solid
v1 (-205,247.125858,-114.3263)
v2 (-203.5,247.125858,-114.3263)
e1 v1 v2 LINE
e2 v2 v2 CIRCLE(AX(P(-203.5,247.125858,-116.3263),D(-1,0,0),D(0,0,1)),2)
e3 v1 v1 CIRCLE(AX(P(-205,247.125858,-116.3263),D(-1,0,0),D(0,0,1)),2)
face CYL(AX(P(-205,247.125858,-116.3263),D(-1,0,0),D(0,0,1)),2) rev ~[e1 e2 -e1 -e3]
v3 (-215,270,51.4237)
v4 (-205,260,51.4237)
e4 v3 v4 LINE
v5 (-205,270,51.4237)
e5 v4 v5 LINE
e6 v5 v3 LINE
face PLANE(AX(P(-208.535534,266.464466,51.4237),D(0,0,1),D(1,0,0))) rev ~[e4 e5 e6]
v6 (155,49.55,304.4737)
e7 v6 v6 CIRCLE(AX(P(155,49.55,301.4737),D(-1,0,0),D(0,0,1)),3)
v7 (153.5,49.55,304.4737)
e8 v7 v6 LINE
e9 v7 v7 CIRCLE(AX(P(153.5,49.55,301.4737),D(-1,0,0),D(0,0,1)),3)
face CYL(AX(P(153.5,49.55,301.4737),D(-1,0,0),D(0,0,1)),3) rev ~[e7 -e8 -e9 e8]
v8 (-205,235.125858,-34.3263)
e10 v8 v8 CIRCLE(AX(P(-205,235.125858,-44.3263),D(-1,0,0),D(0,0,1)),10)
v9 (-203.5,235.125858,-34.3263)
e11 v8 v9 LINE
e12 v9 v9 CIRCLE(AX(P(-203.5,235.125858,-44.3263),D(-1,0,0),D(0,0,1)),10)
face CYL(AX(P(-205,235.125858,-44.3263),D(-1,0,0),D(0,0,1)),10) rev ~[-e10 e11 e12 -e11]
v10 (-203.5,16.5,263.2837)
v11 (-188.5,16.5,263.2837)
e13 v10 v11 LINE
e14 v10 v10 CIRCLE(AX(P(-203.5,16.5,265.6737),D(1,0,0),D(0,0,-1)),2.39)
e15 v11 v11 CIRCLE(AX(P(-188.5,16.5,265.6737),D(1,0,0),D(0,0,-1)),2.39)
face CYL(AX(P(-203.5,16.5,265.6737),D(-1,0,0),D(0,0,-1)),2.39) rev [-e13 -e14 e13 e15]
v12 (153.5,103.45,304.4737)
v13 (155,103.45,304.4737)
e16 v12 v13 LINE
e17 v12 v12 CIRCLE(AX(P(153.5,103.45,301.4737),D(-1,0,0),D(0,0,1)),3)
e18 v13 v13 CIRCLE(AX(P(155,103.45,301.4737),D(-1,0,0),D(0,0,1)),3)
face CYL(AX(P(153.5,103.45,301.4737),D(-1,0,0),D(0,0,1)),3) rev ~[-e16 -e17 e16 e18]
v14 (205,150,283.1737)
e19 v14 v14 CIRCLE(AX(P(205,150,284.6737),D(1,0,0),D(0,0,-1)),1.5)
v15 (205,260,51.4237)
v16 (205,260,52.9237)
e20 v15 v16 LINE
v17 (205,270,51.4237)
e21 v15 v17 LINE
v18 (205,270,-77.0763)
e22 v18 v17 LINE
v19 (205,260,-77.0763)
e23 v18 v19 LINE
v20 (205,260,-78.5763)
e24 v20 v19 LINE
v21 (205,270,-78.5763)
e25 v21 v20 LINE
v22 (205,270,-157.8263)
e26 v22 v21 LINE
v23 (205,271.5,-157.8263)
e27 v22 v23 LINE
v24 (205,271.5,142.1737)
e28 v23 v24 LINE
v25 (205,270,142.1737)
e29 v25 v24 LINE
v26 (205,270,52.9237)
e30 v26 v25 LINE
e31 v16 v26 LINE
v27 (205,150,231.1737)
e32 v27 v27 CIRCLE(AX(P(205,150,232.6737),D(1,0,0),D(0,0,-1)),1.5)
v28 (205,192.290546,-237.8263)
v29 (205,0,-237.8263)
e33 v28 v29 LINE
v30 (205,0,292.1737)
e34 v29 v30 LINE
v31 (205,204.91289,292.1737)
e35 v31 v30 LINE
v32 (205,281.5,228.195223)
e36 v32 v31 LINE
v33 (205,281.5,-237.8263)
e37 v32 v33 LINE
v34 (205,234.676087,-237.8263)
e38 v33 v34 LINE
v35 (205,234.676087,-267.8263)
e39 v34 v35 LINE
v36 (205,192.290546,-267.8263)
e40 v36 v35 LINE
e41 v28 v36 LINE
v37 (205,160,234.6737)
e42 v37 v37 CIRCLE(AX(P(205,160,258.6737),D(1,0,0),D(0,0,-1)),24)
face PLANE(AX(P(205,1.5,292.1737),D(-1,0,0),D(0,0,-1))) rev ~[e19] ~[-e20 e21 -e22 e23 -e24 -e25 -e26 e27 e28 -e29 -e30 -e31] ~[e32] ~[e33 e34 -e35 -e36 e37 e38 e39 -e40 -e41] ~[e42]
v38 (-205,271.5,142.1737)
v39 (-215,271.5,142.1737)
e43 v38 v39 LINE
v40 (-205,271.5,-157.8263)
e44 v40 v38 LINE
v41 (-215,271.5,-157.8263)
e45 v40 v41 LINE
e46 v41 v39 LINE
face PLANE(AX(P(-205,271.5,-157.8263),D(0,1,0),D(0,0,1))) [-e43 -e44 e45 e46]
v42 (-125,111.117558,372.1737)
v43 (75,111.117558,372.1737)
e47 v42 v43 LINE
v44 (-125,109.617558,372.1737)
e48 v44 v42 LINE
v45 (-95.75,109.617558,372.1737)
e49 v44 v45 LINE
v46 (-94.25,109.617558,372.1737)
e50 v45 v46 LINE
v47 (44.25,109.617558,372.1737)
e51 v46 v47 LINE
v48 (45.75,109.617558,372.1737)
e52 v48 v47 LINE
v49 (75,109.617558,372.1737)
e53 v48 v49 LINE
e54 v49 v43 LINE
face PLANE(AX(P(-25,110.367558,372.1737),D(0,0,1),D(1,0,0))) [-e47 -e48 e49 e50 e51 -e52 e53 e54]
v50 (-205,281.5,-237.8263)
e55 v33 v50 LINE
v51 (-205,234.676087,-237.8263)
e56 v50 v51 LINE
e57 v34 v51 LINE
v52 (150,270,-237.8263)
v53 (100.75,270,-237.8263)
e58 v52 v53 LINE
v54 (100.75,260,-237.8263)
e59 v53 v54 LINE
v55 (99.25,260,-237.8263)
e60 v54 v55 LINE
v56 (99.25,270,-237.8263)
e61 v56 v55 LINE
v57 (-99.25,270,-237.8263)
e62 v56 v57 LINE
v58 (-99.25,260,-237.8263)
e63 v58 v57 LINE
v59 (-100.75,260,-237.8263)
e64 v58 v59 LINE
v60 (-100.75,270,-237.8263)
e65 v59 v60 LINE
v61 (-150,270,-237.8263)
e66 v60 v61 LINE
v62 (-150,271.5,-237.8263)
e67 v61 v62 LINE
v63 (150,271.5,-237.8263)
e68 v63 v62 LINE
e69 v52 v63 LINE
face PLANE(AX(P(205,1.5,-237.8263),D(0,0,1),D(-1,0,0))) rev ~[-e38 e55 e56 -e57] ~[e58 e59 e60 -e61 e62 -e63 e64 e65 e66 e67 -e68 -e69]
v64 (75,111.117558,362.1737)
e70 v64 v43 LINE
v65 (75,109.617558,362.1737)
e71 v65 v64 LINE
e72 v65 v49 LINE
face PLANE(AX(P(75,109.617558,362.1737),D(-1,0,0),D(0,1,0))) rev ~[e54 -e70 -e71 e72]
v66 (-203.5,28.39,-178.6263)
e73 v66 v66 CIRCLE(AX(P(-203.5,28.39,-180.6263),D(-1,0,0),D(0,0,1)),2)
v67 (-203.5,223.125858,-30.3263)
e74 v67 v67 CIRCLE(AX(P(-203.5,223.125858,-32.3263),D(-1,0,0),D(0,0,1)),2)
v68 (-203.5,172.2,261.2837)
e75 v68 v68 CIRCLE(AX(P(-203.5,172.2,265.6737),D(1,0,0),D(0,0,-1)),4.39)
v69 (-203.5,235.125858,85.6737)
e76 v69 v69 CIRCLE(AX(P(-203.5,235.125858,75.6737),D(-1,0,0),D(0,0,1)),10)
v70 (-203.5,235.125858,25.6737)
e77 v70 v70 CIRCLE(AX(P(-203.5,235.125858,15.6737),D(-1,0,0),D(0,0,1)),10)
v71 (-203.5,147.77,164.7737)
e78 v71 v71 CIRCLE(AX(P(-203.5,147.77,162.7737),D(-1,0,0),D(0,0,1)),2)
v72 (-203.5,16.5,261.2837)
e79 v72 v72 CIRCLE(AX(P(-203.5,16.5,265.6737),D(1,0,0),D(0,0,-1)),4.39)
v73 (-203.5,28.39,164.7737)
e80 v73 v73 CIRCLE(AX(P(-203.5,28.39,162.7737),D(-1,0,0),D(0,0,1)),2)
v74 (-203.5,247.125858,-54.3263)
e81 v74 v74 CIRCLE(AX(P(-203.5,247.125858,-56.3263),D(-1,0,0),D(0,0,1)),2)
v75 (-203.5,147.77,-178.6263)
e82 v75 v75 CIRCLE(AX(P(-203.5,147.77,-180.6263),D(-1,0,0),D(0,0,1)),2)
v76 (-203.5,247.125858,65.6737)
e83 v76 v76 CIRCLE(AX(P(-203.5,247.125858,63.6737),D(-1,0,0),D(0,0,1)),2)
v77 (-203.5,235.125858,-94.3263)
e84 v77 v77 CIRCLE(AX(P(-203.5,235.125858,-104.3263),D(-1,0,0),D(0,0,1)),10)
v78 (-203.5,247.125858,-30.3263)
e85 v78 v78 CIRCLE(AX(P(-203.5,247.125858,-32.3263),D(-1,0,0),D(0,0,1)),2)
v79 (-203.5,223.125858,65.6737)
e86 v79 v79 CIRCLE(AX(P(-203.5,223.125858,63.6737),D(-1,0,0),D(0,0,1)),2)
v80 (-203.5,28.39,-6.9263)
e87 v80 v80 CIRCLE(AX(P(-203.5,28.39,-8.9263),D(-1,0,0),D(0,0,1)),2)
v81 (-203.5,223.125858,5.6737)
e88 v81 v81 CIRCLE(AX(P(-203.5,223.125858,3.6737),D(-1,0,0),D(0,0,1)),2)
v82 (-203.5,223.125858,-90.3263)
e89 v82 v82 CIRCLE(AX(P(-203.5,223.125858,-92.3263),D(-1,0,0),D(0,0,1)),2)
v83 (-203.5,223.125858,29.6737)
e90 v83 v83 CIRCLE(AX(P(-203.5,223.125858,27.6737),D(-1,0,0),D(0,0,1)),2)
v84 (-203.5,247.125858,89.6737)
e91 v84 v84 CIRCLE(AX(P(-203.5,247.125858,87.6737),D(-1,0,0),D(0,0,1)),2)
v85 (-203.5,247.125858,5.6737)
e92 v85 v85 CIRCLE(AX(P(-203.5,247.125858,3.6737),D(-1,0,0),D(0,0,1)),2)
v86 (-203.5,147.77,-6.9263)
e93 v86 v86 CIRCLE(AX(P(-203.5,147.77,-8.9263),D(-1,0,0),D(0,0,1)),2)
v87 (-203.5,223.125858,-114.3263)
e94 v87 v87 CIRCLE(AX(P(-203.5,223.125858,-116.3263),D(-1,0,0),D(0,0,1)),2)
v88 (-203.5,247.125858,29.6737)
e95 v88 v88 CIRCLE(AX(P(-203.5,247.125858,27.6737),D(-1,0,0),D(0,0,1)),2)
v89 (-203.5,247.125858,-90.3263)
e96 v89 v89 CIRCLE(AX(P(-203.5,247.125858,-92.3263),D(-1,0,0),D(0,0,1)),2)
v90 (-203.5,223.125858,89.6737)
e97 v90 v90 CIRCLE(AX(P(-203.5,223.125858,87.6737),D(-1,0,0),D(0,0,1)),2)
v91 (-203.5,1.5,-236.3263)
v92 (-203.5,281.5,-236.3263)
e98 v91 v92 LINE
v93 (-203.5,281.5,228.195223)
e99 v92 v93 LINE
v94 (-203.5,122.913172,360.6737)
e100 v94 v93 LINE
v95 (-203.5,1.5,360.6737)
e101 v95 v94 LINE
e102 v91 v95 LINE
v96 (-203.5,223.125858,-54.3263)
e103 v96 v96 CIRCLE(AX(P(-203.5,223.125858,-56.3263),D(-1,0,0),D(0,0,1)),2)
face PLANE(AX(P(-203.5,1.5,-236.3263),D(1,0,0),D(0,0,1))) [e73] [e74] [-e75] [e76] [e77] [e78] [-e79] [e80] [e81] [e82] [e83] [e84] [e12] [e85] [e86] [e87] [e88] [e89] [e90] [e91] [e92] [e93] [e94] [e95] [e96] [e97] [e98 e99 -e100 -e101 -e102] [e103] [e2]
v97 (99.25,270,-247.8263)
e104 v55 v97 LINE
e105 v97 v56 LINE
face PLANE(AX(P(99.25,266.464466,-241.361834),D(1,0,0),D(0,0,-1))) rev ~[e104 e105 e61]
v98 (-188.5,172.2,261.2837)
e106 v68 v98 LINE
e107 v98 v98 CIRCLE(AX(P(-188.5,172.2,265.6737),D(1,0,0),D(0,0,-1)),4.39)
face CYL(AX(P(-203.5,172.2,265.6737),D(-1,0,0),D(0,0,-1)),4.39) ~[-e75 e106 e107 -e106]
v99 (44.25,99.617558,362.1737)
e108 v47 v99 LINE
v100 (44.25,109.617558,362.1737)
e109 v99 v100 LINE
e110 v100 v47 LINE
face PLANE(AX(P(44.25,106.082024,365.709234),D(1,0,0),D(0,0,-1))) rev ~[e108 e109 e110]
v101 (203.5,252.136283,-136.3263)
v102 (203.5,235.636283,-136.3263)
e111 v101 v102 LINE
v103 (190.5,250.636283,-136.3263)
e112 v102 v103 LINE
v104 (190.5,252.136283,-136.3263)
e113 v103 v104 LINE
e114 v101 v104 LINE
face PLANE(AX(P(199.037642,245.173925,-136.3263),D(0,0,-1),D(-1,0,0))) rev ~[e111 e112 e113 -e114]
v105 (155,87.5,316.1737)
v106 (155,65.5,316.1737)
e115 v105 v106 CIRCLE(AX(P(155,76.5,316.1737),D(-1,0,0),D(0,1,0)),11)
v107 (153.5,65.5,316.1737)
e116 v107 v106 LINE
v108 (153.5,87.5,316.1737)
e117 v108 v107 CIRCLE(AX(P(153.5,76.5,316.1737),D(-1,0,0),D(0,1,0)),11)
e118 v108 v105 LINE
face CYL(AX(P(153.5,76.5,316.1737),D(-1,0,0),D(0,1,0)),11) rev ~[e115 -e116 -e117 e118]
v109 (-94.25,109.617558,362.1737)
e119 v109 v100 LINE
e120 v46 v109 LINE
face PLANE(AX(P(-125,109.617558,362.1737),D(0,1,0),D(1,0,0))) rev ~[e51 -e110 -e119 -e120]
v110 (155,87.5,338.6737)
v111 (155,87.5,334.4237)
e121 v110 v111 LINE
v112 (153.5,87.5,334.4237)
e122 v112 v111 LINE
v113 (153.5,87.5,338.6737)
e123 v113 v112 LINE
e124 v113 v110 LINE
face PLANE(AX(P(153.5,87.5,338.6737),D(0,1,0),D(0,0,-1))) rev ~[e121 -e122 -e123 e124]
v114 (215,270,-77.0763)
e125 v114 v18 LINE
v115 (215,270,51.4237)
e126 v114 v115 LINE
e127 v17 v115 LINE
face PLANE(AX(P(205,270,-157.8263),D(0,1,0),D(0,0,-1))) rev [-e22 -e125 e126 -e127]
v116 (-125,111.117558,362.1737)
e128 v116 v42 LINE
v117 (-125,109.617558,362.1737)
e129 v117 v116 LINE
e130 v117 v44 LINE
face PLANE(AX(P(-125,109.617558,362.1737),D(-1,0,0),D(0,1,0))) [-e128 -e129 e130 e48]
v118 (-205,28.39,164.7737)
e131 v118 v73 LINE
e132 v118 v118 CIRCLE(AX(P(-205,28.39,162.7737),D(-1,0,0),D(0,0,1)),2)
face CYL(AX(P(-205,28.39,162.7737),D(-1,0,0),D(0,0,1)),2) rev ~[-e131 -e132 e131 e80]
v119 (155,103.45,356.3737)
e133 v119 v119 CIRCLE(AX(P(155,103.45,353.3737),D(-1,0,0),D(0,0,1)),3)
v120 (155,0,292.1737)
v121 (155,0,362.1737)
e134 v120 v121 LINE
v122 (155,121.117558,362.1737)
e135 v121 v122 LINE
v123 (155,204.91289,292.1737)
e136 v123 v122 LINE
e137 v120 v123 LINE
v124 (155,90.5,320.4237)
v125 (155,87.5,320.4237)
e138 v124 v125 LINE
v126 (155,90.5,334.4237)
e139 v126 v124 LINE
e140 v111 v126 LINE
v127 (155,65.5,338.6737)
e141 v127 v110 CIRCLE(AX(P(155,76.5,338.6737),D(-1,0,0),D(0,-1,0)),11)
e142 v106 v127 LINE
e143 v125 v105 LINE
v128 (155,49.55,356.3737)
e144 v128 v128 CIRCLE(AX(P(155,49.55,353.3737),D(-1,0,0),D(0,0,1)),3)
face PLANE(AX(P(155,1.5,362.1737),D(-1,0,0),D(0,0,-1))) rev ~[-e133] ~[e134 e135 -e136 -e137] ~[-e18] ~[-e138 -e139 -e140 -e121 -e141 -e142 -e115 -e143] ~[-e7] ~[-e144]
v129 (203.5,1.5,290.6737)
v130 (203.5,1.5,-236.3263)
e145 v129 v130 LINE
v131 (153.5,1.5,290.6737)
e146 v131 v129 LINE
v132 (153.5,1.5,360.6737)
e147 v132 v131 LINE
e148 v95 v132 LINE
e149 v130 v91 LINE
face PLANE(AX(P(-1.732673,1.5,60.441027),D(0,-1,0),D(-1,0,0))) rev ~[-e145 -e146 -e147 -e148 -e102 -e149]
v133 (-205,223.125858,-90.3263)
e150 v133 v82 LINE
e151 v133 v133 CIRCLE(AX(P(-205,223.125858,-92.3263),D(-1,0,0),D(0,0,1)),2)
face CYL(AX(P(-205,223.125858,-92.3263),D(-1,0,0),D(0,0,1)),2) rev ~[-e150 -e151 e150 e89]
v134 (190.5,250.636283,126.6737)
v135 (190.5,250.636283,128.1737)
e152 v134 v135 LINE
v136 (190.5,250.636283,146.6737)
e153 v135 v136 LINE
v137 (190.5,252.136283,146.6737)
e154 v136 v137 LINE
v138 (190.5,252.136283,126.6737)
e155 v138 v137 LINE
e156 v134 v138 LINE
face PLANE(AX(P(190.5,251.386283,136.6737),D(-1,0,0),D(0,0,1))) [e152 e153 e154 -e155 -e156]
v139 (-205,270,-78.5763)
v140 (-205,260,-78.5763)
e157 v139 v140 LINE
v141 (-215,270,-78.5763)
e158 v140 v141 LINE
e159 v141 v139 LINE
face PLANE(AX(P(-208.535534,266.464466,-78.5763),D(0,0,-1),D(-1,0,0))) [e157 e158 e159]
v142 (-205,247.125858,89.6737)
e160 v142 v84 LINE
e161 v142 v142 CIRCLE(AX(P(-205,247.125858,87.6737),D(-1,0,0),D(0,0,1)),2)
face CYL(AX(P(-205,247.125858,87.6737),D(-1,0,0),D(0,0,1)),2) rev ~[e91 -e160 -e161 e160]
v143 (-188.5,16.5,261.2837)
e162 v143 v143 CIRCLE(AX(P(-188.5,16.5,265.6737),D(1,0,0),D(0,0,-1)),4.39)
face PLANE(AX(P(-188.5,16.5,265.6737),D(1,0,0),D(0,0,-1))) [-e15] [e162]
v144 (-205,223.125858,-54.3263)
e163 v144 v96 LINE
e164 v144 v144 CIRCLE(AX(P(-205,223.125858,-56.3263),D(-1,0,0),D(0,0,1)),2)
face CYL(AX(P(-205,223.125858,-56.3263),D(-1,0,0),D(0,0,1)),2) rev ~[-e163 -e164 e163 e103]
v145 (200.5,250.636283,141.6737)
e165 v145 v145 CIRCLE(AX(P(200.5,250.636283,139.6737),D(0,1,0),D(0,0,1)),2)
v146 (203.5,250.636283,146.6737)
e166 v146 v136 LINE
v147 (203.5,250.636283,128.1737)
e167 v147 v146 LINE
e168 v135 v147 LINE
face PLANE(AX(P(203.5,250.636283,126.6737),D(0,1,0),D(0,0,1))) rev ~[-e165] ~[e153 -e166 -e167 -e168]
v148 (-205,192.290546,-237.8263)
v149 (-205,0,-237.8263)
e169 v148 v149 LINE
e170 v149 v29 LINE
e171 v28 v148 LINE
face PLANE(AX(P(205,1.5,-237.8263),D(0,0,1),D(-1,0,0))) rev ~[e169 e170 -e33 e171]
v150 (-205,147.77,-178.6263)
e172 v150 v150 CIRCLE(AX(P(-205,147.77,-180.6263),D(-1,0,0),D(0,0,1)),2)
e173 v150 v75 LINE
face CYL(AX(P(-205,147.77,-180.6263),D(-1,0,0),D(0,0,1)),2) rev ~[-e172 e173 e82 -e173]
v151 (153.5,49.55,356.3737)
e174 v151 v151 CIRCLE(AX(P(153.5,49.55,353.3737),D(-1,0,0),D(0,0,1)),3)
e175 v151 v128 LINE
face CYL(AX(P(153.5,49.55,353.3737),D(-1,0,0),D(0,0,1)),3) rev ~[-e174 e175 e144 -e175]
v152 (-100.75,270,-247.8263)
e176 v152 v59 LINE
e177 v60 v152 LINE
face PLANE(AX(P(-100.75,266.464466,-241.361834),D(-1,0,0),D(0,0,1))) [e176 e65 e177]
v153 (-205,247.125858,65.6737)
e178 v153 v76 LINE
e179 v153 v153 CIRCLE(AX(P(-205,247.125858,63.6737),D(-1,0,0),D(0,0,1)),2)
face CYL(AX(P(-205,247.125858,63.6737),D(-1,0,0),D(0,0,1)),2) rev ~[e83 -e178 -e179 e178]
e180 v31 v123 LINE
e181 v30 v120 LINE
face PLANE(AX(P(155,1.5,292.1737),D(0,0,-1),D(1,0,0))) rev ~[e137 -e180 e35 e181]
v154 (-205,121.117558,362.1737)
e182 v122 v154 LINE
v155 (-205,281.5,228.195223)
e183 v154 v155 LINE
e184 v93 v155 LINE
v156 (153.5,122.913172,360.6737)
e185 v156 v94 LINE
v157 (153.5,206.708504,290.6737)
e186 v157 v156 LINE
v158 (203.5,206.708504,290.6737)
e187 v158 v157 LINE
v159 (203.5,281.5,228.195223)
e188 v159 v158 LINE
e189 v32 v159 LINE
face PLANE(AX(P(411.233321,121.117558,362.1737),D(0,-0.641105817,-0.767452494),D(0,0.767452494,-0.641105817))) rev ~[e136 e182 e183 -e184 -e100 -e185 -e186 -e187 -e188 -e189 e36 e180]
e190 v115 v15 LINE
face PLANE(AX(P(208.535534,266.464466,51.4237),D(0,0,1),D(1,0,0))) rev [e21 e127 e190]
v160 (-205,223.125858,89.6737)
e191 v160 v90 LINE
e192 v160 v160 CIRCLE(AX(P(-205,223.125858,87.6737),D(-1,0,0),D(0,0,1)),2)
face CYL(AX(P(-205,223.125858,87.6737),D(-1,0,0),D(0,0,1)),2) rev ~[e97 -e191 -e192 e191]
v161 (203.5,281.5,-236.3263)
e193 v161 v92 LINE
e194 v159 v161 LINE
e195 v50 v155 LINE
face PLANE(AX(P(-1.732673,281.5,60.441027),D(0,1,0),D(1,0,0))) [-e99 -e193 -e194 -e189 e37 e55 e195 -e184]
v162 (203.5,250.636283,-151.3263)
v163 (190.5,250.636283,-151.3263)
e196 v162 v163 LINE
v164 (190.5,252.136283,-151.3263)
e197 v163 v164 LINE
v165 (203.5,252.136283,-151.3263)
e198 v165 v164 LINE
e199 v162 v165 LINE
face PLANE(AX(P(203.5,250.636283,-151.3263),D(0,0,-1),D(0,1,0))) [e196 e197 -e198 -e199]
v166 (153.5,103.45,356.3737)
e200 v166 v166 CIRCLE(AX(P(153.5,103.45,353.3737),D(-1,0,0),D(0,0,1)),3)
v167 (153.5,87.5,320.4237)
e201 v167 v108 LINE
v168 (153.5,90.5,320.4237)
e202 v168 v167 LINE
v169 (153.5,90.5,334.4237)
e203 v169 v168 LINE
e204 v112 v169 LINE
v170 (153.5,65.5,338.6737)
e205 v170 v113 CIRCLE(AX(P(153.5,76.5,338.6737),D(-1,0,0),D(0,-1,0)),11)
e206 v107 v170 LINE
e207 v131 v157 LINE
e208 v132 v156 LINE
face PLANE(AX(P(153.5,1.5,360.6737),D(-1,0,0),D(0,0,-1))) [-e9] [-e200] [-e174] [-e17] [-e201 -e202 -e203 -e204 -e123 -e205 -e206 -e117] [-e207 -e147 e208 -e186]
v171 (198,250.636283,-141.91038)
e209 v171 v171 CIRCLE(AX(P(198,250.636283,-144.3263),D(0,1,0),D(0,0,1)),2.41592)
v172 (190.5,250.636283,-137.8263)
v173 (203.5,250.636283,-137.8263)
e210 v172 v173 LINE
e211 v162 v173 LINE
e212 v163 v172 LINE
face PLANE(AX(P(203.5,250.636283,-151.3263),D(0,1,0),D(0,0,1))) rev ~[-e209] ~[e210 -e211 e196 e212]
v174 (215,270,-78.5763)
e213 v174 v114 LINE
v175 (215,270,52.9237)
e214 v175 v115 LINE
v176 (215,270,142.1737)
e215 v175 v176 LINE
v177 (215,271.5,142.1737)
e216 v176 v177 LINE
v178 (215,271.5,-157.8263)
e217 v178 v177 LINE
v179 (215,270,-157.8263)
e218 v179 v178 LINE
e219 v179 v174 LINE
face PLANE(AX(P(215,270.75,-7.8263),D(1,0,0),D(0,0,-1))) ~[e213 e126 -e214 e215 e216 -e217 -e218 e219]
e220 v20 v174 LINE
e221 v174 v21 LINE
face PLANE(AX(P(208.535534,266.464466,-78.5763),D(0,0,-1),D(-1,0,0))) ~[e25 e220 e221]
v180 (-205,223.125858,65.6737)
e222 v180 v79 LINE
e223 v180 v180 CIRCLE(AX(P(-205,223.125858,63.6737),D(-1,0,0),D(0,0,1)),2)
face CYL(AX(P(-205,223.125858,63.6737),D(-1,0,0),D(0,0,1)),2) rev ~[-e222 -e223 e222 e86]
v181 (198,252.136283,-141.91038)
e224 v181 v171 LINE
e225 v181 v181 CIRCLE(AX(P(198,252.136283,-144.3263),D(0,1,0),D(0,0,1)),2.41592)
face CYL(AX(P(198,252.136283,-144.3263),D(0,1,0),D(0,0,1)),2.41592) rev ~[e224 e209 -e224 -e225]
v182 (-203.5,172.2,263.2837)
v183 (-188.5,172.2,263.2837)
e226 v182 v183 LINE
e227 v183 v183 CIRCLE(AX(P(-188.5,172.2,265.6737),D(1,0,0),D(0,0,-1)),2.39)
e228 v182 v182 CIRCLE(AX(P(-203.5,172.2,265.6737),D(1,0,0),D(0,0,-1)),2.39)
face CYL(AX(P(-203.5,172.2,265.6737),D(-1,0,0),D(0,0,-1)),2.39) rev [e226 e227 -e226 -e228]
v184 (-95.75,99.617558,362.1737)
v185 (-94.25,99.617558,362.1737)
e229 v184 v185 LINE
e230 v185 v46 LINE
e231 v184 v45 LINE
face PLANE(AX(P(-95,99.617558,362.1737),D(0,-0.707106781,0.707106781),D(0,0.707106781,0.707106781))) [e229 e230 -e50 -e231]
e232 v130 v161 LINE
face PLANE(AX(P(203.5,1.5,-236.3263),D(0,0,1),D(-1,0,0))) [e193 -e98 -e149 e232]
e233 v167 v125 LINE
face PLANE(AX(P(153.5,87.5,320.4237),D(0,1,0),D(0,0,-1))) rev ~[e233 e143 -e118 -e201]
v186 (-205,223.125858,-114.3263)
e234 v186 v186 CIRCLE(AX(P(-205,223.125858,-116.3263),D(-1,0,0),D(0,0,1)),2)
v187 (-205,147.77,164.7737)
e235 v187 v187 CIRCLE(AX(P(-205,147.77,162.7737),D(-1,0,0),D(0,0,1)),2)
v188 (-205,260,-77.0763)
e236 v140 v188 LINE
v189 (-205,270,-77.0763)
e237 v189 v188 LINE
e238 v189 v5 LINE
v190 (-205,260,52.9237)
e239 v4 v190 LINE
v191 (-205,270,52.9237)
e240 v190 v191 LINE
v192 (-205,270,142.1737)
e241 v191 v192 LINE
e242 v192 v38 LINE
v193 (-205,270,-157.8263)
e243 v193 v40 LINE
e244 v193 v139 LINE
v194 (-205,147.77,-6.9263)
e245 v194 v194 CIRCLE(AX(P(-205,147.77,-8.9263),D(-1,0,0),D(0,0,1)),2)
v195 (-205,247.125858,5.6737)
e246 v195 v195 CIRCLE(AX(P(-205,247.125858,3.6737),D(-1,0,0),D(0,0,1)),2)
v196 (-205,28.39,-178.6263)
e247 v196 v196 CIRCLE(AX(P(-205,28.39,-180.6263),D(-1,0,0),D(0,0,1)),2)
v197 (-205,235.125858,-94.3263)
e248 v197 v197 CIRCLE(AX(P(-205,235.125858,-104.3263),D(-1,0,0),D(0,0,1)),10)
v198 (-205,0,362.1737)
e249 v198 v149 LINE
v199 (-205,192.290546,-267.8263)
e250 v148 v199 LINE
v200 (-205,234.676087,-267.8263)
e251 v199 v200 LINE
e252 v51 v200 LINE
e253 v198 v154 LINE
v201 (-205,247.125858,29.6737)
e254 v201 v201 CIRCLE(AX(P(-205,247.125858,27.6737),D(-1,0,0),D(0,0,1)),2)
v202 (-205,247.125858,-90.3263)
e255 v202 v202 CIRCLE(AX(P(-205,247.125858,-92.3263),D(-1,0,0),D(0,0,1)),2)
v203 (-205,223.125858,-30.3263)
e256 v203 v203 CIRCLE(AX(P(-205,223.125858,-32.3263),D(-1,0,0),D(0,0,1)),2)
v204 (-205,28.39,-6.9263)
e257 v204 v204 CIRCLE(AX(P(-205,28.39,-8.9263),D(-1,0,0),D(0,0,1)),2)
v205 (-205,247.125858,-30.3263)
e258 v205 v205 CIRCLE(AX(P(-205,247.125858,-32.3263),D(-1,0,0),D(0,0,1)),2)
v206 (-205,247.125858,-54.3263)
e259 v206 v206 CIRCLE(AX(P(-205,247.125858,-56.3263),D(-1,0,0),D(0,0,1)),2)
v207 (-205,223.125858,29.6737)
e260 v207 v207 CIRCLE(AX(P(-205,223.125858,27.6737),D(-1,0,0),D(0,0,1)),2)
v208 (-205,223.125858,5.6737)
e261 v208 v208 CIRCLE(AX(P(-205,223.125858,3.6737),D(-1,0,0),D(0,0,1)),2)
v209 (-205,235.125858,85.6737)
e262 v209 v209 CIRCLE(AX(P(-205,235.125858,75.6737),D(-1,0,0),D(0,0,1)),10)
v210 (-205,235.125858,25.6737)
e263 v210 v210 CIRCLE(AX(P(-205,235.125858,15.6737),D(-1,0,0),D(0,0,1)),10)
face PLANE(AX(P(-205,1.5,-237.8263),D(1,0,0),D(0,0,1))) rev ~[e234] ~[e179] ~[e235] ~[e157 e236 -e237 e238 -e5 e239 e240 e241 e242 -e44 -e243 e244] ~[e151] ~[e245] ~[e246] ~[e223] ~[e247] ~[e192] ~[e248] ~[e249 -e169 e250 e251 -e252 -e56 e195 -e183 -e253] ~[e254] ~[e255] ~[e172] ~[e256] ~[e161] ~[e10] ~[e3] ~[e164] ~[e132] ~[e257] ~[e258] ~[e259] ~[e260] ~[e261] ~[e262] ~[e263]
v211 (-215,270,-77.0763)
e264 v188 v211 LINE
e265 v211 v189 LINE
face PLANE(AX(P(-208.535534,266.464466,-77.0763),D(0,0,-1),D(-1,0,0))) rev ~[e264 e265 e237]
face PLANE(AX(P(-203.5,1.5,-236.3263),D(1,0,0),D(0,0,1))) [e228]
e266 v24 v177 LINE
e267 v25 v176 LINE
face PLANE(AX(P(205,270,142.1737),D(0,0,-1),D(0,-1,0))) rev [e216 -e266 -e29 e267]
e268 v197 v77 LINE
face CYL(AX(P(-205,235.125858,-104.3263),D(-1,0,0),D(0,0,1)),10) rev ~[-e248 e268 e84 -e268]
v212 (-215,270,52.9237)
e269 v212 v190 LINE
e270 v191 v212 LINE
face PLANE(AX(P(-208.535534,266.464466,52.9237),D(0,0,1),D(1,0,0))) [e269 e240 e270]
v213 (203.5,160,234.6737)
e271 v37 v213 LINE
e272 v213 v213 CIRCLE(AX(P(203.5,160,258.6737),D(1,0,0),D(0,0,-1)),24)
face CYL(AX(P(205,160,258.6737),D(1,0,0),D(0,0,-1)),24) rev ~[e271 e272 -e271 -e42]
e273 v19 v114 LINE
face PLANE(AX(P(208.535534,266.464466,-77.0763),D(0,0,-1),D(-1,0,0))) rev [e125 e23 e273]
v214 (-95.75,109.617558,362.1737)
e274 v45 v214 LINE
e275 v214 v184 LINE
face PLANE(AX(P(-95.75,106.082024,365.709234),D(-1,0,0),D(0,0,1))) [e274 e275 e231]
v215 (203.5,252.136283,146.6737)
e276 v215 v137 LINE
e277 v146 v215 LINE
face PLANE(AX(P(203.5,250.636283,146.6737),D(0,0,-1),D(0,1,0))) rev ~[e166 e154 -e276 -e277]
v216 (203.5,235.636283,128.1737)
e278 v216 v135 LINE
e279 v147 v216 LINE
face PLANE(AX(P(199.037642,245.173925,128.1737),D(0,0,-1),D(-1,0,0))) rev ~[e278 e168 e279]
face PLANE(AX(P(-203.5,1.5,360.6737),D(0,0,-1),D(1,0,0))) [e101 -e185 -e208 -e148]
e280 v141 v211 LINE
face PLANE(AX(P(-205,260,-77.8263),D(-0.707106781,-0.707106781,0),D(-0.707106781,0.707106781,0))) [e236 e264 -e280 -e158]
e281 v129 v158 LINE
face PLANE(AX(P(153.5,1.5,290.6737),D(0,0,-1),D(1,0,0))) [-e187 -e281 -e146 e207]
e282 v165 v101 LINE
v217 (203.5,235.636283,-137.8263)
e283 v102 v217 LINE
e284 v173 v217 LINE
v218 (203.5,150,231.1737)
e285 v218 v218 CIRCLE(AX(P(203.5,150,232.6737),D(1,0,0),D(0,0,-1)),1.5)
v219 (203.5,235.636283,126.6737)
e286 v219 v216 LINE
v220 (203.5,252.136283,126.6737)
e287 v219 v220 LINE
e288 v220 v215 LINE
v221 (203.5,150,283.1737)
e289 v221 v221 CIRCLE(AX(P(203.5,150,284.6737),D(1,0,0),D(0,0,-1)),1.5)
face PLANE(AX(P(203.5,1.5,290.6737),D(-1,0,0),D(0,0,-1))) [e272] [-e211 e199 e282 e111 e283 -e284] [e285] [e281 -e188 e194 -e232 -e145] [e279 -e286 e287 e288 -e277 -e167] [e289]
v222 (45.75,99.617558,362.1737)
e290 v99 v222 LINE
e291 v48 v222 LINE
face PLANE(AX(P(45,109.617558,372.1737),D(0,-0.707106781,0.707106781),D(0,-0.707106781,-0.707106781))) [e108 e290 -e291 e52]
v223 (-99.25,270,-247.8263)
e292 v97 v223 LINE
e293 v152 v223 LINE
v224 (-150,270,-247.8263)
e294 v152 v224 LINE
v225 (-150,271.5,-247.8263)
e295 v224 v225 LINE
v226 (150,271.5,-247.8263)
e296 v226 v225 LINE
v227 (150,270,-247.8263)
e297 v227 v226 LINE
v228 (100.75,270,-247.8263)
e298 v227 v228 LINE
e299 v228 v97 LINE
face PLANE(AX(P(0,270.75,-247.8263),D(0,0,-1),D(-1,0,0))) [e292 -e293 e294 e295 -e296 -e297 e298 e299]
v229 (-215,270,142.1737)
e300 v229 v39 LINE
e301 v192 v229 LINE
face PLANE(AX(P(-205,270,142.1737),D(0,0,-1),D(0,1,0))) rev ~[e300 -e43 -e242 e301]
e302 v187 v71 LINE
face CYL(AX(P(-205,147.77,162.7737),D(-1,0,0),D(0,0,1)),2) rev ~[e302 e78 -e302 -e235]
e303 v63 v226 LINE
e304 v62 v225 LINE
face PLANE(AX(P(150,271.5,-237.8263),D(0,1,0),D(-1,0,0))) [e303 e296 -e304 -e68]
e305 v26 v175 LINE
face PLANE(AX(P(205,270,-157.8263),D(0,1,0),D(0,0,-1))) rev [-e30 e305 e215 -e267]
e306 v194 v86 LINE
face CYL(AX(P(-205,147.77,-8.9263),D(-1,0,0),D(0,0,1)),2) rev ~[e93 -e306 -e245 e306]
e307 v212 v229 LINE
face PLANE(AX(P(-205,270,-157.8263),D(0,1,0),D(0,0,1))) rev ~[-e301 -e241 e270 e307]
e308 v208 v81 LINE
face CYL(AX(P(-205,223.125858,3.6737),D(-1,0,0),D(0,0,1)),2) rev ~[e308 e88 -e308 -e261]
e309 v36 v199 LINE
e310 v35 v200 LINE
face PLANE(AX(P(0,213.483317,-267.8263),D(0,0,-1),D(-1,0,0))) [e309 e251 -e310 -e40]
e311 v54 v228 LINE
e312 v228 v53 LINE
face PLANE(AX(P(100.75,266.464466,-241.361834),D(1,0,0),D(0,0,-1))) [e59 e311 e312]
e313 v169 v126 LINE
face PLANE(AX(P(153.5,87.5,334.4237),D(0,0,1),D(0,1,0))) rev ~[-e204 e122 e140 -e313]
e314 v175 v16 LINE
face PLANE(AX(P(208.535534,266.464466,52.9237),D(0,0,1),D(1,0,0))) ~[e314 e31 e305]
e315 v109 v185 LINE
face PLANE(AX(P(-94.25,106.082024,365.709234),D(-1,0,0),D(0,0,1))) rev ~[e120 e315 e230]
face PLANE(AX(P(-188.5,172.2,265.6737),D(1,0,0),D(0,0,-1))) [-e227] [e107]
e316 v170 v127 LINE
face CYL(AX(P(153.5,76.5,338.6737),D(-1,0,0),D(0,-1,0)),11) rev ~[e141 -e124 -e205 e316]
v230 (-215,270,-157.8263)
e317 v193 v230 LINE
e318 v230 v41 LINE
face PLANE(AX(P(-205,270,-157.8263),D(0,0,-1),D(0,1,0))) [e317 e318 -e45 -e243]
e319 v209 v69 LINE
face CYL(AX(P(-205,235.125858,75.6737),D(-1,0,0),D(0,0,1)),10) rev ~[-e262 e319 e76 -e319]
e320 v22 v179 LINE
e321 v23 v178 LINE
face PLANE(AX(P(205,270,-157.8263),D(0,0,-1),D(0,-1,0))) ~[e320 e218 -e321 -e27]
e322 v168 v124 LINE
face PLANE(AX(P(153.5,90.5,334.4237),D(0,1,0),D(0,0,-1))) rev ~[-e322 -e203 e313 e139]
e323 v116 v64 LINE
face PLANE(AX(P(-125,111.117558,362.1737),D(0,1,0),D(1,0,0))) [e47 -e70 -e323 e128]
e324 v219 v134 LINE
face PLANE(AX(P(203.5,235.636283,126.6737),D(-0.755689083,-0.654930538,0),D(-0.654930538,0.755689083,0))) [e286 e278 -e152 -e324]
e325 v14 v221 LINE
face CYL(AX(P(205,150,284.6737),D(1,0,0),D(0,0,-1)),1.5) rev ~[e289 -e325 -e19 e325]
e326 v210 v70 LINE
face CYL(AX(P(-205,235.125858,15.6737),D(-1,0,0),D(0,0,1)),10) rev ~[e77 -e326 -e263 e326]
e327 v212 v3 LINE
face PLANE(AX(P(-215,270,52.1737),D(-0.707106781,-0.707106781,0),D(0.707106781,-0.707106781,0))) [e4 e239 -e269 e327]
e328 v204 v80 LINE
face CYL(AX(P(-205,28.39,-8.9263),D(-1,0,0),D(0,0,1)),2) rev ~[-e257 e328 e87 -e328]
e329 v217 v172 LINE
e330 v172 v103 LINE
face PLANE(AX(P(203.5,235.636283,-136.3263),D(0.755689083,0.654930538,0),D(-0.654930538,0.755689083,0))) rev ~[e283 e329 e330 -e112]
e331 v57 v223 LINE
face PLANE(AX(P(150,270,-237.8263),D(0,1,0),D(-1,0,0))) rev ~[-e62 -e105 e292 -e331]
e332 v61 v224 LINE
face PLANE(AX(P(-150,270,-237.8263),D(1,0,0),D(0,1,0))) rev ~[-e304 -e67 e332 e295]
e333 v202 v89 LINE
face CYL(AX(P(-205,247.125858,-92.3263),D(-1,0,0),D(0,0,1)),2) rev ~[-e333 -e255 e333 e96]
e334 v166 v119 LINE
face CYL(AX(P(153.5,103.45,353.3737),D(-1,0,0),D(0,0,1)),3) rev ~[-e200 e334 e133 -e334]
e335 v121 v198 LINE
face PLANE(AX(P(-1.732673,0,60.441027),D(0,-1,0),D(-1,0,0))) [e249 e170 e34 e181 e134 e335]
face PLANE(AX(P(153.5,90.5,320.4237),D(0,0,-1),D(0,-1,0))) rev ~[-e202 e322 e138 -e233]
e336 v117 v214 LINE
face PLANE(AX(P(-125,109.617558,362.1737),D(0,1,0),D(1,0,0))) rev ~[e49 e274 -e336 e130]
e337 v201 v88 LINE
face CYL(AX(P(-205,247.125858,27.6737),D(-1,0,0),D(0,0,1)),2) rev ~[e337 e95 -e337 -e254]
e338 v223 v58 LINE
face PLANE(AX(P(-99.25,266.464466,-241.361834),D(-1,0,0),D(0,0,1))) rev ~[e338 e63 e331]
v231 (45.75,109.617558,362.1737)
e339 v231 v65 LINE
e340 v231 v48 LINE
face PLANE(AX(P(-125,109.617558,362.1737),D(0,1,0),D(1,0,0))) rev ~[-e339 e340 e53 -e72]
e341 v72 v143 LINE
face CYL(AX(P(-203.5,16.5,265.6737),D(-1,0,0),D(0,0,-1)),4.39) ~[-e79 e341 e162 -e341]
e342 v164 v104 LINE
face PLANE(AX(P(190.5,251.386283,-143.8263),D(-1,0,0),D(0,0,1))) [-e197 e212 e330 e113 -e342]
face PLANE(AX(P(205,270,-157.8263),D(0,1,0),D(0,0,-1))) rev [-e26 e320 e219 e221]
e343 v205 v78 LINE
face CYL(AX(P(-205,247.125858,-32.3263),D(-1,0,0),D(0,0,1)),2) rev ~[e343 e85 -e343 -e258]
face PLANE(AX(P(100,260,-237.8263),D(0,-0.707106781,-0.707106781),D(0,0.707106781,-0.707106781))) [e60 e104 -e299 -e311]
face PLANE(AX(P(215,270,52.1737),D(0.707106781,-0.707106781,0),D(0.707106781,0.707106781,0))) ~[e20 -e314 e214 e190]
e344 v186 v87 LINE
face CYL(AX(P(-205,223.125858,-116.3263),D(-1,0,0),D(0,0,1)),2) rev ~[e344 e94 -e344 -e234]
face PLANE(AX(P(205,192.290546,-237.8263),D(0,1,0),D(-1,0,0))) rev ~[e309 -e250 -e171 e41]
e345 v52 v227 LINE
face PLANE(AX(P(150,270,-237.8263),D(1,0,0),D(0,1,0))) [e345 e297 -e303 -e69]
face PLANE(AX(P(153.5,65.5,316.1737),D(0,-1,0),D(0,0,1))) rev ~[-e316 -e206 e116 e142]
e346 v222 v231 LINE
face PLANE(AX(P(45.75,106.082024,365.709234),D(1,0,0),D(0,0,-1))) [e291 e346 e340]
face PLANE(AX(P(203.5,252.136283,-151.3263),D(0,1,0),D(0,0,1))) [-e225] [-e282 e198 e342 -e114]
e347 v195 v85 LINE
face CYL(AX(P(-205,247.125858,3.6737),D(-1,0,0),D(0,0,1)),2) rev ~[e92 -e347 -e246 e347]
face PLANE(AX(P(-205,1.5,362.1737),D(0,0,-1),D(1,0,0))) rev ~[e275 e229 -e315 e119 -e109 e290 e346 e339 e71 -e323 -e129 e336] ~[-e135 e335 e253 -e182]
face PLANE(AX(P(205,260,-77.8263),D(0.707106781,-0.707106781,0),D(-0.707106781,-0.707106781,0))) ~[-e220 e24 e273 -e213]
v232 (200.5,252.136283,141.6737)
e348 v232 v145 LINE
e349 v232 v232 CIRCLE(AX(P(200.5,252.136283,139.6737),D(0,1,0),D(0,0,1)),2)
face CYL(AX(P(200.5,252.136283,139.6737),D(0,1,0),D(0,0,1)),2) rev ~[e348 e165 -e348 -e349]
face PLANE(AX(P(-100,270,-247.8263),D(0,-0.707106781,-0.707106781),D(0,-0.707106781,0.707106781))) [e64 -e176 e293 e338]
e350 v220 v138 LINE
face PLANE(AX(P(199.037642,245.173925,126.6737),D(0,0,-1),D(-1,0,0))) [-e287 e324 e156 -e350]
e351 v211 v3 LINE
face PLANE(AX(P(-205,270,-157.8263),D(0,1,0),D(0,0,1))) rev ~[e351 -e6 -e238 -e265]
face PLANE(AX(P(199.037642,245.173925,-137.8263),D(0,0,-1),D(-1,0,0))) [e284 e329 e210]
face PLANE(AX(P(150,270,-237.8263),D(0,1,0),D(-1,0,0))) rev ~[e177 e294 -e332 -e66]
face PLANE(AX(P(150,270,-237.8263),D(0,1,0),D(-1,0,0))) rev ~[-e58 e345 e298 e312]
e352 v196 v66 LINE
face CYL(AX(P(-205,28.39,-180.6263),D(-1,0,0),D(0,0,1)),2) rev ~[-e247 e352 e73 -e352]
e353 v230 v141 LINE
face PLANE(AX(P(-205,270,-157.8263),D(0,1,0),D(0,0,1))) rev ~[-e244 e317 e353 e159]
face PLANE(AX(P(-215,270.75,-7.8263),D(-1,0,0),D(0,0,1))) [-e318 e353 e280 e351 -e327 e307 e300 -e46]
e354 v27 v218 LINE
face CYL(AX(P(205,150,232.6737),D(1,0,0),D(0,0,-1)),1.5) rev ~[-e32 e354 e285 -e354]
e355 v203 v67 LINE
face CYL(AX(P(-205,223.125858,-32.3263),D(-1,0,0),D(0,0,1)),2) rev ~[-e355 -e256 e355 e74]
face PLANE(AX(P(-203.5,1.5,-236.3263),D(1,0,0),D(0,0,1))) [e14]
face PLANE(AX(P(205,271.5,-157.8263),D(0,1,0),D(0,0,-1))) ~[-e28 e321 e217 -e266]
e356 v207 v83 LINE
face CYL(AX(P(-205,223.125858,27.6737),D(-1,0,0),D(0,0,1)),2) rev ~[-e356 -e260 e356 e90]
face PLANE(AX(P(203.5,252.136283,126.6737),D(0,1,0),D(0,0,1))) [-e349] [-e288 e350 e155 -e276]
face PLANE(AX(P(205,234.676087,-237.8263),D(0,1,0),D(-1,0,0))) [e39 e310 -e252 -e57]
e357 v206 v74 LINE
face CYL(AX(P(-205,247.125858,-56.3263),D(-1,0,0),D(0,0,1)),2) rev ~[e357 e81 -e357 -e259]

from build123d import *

# Parameters (mm, degrees)
BOSS_EXTRUDE1_DEPTH     = 1.5
BOSS_EXTRUDE2_DEPTH     = 280
SKETCH4_W               = 410
SKETCH4_H               = 42.385541564
BOSS_EXTRUDE3_DEPTH     = 30
CUT_EXTRUDE1_DEPTH      = 616.233320702
CUT_EXTRUDE1_DEPTH_BACK = 616.233320702
SKETCH8_R               = 4.39
SKETCH8_R_2             = 2.39
BOSS_EXTRUDE5_DEPTH     = 15
SKETCH10_R              = 3
CUT_EXTRUDE2_DEPTH      = 1.5
SKETCH15_W              = 15
SKETCH15_H              = 1.5
SKETCH15_W_2            = 20
BOSS_EXTRUDE6_DEPTH     = 13
BOSS_EXTRUDE7_DEPTH     = 1.5
BOSS_EXTRUDE8_DEPTH     = 1.5
SKETCH20_R              = 2.415919743
SKETCH20_R_2            = 2
CUT_EXTRUDE5_DEPTH      = 1.5
SKETCH5_R               = 2
SKETCH5_R_2             = 10
CUT_EXTRUDE7_DEPTH      = 1.5
SKETCH21_W              = 300
SKETCH21_H              = 1.5
BOSS_EXTRUDE9_DEPTH     = 10
SKETCH22_W              = 300
SKETCH22_H              = 1.5
BOSS_EXTRUDE10_DEPTH    = 10
BOSS_EXTRUDE11_DEPTH    = 0.75
BOSS_EXTRUDE12_DEPTH    = 0.75
BOSS_EXTRUDE13_DEPTH    = 0.75
BOSS_EXTRUDE14_DEPTH    = 0.75
SKETCH27_W              = 200
SKETCH27_H              = 1.5
BOSS_EXTRUDE15_DEPTH    = 10
BOSS_EXTRUDE16_DEPTH    = 0.75
BOSS_EXTRUDE17_DEPTH    = 0.75
SKETCH30_R              = 24
SKETCH30_R_2            = 1.5
CUT_EXTRUDE8_DEPTH      = 1.5
SKETCH33_R              = 2
CUT_EXTRUDE9_DEPTH      = 1.5


with BuildPart() as part:
    # Sketch1 → Boss-Extrude1 (new body)
    with BuildSketch(Plane(origin=(0, 0, 0), x_dir=(1, 0, 0), z_dir=(0, 1, 0))):
        Polygon((-205, 237.826300096), (205, 237.826300096), (205, -292.173699904), (155, -292.173699904), (155, -362.173699904), (-205, -362.173699904), align=None)
    extrude(amount=BOSS_EXTRUDE1_DEPTH)

    # Sketch2 → Boss-Extrude2 (add)
    with BuildSketch(Plane(origin=(0, 1.5, 0), x_dir=(1, 0, 0), z_dir=(0, 1, 0))):
        Polygon((-205, 237.826300096), (-205, -362.173699904), (155, -362.173699904), (155, -292.173699904), (205, -292.173699904), (205, 237.826300096), align=None)
        Polygon((-203.5, 236.326300096), (-203.5, -360.673699904), (153.5, -360.673699904), (153.5, -290.673699904), (203.5, -290.673699904), (203.5, 236.326300096), align=None, mode=Mode.SUBTRACT)
    extrude(amount=BOSS_EXTRUDE2_DEPTH)

    # Sketch4 → Boss-Extrude3 (add)
    with BuildSketch(Plane(origin=(0, 0, -237.826300096), x_dir=(-1, 0, 0), z_dir=(0, 0, -1))):
        with Locations((0, 213.483316708)):
            Rectangle(SKETCH4_W, SKETCH4_H)
    extrude(amount=BOSS_EXTRUDE3_DEPTH)

    # Sketch3 → Cut-Extrude1 (cut, two sides: drawn at the far end of the back side and taken through both)
    with BuildSketch(Plane.ZY.offset(205).offset(-CUT_EXTRUDE1_DEPTH_BACK)):
        Polygon((362.173699904, 121.117558148), (228.195222706, 281.5), (362.173699904, 281.5), align=None)
    extrude(amount=CUT_EXTRUDE1_DEPTH + CUT_EXTRUDE1_DEPTH_BACK, mode=Mode.SUBTRACT)

    # Sketch8 → Boss-Extrude5 (add)
    # profile 1 of 2: a face of its own
    with BuildSketch(Plane(origin=(-203.5, 0, 0), x_dir=(0, 0, -1), z_dir=(1, 0, 0))):
        with Locations((-265.673699904, 172.2)):
            Circle(SKETCH8_R)
        with Locations((-265.673699904, 172.2)):
            Circle(SKETCH8_R_2, mode=Mode.SUBTRACT)
    # profile 2 of 2: a face of its own
    with BuildSketch(Plane(origin=(-203.5, 0, 0), x_dir=(0, 0, -1), z_dir=(1, 0, 0))):
        with Locations((-265.673699904, 16.5)):
            Circle(SKETCH8_R)
        with Locations((-265.673699904, 16.5)):
            Circle(SKETCH8_R_2, mode=Mode.SUBTRACT)
    extrude(amount=BOSS_EXTRUDE5_DEPTH)

    # Sketch10 → Cut-Extrude2 (cut)
    with BuildSketch(Plane.ZY.offset(-153.5)):
        with BuildLine():
            Line((334.423699904, 90.5), (320.423699904, 90.5))
            Line((320.423699904, 90.5), (320.423699904, 87.5))
            Line((320.423699904, 87.5), (316.173699904, 87.5))
            ThreePointArc((316.173699904, 87.5), (305.173699904, 76.5), (316.173699904, 65.5))
            Line((316.173699904, 65.5), (338.673699904, 65.5))
            ThreePointArc((338.673699904, 65.5), (349.673699904, 76.5), (338.673699904, 87.5))
            Line((338.673699904, 87.5), (334.423699904, 87.5))
            Line((334.423699904, 87.5), (334.423699904, 90.5))
        make_face()
        with Locations((301.473699904, 103.45)):
            Circle(SKETCH10_R)
        with Locations((353.373699904, 103.45)):
            Circle(SKETCH10_R)
        with Locations((301.473699904, 49.55)):
            Circle(SKETCH10_R)
        with Locations((353.373699904, 49.55)):
            Circle(SKETCH10_R)
    extrude(amount=-CUT_EXTRUDE2_DEPTH, mode=Mode.SUBTRACT)

    # Sketch15 → Boss-Extrude6 (add)
    with BuildSketch(Plane.ZY.offset(-203.5)):
        with Locations((-143.826300096, 251.386283415)):
            Rectangle(SKETCH15_W, SKETCH15_H)
        with Locations((136.673699904, 251.386283415)):
            Rectangle(SKETCH15_W_2, SKETCH15_H)
    extrude(amount=BOSS_EXTRUDE6_DEPTH)

    # Sketch17 → Boss-Extrude7 (add)
    with BuildSketch(Plane.XY.offset(-136.326300096)):
        Polygon((203.5, 250.636283415), (203.5, 235.636283415), (190.5, 250.636283415), align=None)
    extrude(amount=-BOSS_EXTRUDE7_DEPTH)

    # Sketch18 → Boss-Extrude8 (add)
    with BuildSketch(Plane.XY.offset(126.673699904)):
        Polygon((203.5, 250.636283415), (203.5, 235.636283415), (190.5, 250.636283415), align=None)
    extrude(amount=BOSS_EXTRUDE8_DEPTH)

    # Sketch20 → Cut-Extrude5 (cut)
    with BuildSketch(Plane(origin=(0, 252.136283415, 0), x_dir=(1, 0, 0), z_dir=(0, 1, 0))):
        with Locations(Location((198, 144.326300096, 0), (0, 0, 270))):
            Circle(SKETCH20_R)
        with Locations(Location((200.5, -139.673699904, 0), (0, 0, 270))):
            Circle(SKETCH20_R_2)
    extrude(amount=-CUT_EXTRUDE5_DEPTH, mode=Mode.SUBTRACT)

    # Sketch5 → Cut-Extrude7 (cut)
    with BuildSketch(Plane.ZY.offset(205)):
        with Locations((-116.326300096, 247.125857706)):
            Circle(SKETCH5_R)
        with Locations((-116.326300096, 223.125857706)):
            Circle(SKETCH5_R)
        with Locations((-92.326300096, 223.125857706)):
            Circle(SKETCH5_R)
        with Locations((-92.326300096, 247.125857706)):
            Circle(SKETCH5_R)
        with Locations((-104.326300096, 235.125857706)):
            Circle(SKETCH5_R_2)
        with Locations((-56.326300096, 247.125857706)):
            Circle(SKETCH5_R)
        with Locations((-56.326300096, 223.125857706)):
            Circle(SKETCH5_R)
        with Locations((-32.326300096, 223.125857706)):
            Circle(SKETCH5_R)
        with Locations((-32.326300096, 247.125857706)):
            Circle(SKETCH5_R)
        with Locations((-44.326300096, 235.125857706)):
            Circle(SKETCH5_R_2)
        with Locations((3.673699904, 247.125857706)):
            Circle(SKETCH5_R)
        with Locations((3.673699904, 223.125857706)):
            Circle(SKETCH5_R)
        with Locations((27.673699904, 223.125857706)):
            Circle(SKETCH5_R)
        with Locations((27.673699904, 247.125857706)):
            Circle(SKETCH5_R)
        with Locations((15.673699904, 235.125857706)):
            Circle(SKETCH5_R_2)
        with Locations((63.673699904, 247.125857706)):
            Circle(SKETCH5_R)
        with Locations((63.673699904, 223.125857706)):
            Circle(SKETCH5_R)
        with Locations((87.673699904, 223.125857706)):
            Circle(SKETCH5_R)
        with Locations((87.673699904, 247.125857706)):
            Circle(SKETCH5_R)
        with Locations((75.673699904, 235.125857706)):
            Circle(SKETCH5_R_2)
    extrude(amount=-CUT_EXTRUDE7_DEPTH, mode=Mode.SUBTRACT)

    # Sketch21 → Boss-Extrude9 (add)
    with BuildSketch(Plane(origin=(0, 0, -237.826300096), x_dir=(-1, 0, 0), z_dir=(0, 0, -1))):
        with Locations((0, 270.75)):
            Rectangle(SKETCH21_W, SKETCH21_H)
    extrude(amount=BOSS_EXTRUDE9_DEPTH)

    # Sketch22 → Boss-Extrude10 (add)
    with BuildSketch(Plane.ZY.offset(205)):
        with Locations((-7.826300096, 270.75)):
            Rectangle(SKETCH22_W, SKETCH22_H)
    boss_extrude10 = extrude(amount=BOSS_EXTRUDE10_DEPTH)

    # Sketch23 → Boss-Extrude11 (add, symmetric)
    with BuildSketch(Plane(origin=(0, 0, -77.826300096), x_dir=(-1, 0, 0), z_dir=(0, 0, -1))):
        Polygon((215, 270), (205, 270), (205, 260), align=None)
    boss_extrude11 = extrude(amount=BOSS_EXTRUDE11_DEPTH, both=True)

    # Sketch24 → Boss-Extrude12 (add, symmetric)
    with BuildSketch(Plane.XY.offset(52.173699904)):
        Polygon((-215, 270), (-205, 260), (-205, 270), align=None)
    boss_extrude12 = extrude(amount=BOSS_EXTRUDE12_DEPTH, both=True)

    # Sketch25 → Boss-Extrude13 (add, symmetric)
    with BuildSketch(Plane(origin=(100, 0, 0), x_dir=(0, 0, -1), z_dir=(1, 0, 0))):
        Polygon((247.826300096, 270), (237.826300096, 270), (237.826300096, 260), align=None)
    extrude(amount=BOSS_EXTRUDE13_DEPTH, both=True)

    # Sketch26 → Boss-Extrude14 (add, symmetric)
    with BuildSketch(Plane.ZY.offset(100)):
        Polygon((-247.826300096, 270), (-237.826300096, 260), (-237.826300096, 270), align=None)
    extrude(amount=BOSS_EXTRUDE14_DEPTH, both=True)

    # Mirror1: Boss-Extrude10, Boss-Extrude11, Boss-Extrude12 across plane
    add(boss_extrude10.mirror(Plane(origin=(0, 0, 0), x_dir=(0, 0, 1), z_dir=(1, 0, 0))))
    add(boss_extrude11.mirror(Plane(origin=(0, 0, 0), x_dir=(0, 0, 1), z_dir=(1, 0, 0))))
    add(boss_extrude12.mirror(Plane(origin=(0, 0, 0), x_dir=(0, 0, 1), z_dir=(1, 0, 0))))

    # Sketch27 → Boss-Extrude15 (add)
    with BuildSketch(Plane.XY.offset(362.173699904)):
        with Locations((-25, 110.367558148)):
            Rectangle(SKETCH27_W, SKETCH27_H)
    extrude(amount=BOSS_EXTRUDE15_DEPTH)

    # Sketch28 → Boss-Extrude16 (add, symmetric)
    with BuildSketch(Plane.ZY.offset(95)):
        Polygon((372.173699904, 109.617558148), (362.173699904, 109.617558148), (362.173699904, 99.617558148), align=None)
    extrude(amount=BOSS_EXTRUDE16_DEPTH, both=True)

    # Sketch29 → Boss-Extrude17 (add, symmetric)
    with BuildSketch(Plane(origin=(45, 0, 0), x_dir=(0, 0, -1), z_dir=(1, 0, 0))):
        Polygon((-372.173699904, 109.617558148), (-362.173699904, 99.617558148), (-362.173699904, 109.617558148), align=None)
    extrude(amount=BOSS_EXTRUDE17_DEPTH, both=True)

    # Sketch30 → Cut-Extrude8 (cut)
    with BuildSketch(Plane(origin=(205, 0, 0), x_dir=(0, 0, -1), z_dir=(1, 0, 0))):
        with Locations((-258.673699904, 160)):
            Circle(SKETCH30_R)
        with Locations((-284.673699904, 150)):
            Circle(SKETCH30_R_2)
        with Locations((-232.673699904, 150)):
            Circle(SKETCH30_R_2)
    extrude(amount=-CUT_EXTRUDE8_DEPTH, mode=Mode.SUBTRACT)

    # Sketch33 → Cut-Extrude9 (cut)
    with BuildSketch(Plane.ZY.offset(205)):
        with Locations((-180.626300096, 147.77)):
            Circle(SKETCH33_R)
        with Locations((-180.626300096, 28.39)):
            Circle(SKETCH33_R)
        with Locations((-8.926300096, 147.77)):
            Circle(SKETCH33_R)
        with Locations((-8.926300096, 28.39)):
            Circle(SKETCH33_R)
        with Locations((162.773699904, 147.77)):
            Circle(SKETCH33_R)
        with Locations((162.773699904, 28.39)):
            Circle(SKETCH33_R)
    extrude(amount=-CUT_EXTRUDE9_DEPTH, mode=Mode.SUBTRACT)


solid = part.part
